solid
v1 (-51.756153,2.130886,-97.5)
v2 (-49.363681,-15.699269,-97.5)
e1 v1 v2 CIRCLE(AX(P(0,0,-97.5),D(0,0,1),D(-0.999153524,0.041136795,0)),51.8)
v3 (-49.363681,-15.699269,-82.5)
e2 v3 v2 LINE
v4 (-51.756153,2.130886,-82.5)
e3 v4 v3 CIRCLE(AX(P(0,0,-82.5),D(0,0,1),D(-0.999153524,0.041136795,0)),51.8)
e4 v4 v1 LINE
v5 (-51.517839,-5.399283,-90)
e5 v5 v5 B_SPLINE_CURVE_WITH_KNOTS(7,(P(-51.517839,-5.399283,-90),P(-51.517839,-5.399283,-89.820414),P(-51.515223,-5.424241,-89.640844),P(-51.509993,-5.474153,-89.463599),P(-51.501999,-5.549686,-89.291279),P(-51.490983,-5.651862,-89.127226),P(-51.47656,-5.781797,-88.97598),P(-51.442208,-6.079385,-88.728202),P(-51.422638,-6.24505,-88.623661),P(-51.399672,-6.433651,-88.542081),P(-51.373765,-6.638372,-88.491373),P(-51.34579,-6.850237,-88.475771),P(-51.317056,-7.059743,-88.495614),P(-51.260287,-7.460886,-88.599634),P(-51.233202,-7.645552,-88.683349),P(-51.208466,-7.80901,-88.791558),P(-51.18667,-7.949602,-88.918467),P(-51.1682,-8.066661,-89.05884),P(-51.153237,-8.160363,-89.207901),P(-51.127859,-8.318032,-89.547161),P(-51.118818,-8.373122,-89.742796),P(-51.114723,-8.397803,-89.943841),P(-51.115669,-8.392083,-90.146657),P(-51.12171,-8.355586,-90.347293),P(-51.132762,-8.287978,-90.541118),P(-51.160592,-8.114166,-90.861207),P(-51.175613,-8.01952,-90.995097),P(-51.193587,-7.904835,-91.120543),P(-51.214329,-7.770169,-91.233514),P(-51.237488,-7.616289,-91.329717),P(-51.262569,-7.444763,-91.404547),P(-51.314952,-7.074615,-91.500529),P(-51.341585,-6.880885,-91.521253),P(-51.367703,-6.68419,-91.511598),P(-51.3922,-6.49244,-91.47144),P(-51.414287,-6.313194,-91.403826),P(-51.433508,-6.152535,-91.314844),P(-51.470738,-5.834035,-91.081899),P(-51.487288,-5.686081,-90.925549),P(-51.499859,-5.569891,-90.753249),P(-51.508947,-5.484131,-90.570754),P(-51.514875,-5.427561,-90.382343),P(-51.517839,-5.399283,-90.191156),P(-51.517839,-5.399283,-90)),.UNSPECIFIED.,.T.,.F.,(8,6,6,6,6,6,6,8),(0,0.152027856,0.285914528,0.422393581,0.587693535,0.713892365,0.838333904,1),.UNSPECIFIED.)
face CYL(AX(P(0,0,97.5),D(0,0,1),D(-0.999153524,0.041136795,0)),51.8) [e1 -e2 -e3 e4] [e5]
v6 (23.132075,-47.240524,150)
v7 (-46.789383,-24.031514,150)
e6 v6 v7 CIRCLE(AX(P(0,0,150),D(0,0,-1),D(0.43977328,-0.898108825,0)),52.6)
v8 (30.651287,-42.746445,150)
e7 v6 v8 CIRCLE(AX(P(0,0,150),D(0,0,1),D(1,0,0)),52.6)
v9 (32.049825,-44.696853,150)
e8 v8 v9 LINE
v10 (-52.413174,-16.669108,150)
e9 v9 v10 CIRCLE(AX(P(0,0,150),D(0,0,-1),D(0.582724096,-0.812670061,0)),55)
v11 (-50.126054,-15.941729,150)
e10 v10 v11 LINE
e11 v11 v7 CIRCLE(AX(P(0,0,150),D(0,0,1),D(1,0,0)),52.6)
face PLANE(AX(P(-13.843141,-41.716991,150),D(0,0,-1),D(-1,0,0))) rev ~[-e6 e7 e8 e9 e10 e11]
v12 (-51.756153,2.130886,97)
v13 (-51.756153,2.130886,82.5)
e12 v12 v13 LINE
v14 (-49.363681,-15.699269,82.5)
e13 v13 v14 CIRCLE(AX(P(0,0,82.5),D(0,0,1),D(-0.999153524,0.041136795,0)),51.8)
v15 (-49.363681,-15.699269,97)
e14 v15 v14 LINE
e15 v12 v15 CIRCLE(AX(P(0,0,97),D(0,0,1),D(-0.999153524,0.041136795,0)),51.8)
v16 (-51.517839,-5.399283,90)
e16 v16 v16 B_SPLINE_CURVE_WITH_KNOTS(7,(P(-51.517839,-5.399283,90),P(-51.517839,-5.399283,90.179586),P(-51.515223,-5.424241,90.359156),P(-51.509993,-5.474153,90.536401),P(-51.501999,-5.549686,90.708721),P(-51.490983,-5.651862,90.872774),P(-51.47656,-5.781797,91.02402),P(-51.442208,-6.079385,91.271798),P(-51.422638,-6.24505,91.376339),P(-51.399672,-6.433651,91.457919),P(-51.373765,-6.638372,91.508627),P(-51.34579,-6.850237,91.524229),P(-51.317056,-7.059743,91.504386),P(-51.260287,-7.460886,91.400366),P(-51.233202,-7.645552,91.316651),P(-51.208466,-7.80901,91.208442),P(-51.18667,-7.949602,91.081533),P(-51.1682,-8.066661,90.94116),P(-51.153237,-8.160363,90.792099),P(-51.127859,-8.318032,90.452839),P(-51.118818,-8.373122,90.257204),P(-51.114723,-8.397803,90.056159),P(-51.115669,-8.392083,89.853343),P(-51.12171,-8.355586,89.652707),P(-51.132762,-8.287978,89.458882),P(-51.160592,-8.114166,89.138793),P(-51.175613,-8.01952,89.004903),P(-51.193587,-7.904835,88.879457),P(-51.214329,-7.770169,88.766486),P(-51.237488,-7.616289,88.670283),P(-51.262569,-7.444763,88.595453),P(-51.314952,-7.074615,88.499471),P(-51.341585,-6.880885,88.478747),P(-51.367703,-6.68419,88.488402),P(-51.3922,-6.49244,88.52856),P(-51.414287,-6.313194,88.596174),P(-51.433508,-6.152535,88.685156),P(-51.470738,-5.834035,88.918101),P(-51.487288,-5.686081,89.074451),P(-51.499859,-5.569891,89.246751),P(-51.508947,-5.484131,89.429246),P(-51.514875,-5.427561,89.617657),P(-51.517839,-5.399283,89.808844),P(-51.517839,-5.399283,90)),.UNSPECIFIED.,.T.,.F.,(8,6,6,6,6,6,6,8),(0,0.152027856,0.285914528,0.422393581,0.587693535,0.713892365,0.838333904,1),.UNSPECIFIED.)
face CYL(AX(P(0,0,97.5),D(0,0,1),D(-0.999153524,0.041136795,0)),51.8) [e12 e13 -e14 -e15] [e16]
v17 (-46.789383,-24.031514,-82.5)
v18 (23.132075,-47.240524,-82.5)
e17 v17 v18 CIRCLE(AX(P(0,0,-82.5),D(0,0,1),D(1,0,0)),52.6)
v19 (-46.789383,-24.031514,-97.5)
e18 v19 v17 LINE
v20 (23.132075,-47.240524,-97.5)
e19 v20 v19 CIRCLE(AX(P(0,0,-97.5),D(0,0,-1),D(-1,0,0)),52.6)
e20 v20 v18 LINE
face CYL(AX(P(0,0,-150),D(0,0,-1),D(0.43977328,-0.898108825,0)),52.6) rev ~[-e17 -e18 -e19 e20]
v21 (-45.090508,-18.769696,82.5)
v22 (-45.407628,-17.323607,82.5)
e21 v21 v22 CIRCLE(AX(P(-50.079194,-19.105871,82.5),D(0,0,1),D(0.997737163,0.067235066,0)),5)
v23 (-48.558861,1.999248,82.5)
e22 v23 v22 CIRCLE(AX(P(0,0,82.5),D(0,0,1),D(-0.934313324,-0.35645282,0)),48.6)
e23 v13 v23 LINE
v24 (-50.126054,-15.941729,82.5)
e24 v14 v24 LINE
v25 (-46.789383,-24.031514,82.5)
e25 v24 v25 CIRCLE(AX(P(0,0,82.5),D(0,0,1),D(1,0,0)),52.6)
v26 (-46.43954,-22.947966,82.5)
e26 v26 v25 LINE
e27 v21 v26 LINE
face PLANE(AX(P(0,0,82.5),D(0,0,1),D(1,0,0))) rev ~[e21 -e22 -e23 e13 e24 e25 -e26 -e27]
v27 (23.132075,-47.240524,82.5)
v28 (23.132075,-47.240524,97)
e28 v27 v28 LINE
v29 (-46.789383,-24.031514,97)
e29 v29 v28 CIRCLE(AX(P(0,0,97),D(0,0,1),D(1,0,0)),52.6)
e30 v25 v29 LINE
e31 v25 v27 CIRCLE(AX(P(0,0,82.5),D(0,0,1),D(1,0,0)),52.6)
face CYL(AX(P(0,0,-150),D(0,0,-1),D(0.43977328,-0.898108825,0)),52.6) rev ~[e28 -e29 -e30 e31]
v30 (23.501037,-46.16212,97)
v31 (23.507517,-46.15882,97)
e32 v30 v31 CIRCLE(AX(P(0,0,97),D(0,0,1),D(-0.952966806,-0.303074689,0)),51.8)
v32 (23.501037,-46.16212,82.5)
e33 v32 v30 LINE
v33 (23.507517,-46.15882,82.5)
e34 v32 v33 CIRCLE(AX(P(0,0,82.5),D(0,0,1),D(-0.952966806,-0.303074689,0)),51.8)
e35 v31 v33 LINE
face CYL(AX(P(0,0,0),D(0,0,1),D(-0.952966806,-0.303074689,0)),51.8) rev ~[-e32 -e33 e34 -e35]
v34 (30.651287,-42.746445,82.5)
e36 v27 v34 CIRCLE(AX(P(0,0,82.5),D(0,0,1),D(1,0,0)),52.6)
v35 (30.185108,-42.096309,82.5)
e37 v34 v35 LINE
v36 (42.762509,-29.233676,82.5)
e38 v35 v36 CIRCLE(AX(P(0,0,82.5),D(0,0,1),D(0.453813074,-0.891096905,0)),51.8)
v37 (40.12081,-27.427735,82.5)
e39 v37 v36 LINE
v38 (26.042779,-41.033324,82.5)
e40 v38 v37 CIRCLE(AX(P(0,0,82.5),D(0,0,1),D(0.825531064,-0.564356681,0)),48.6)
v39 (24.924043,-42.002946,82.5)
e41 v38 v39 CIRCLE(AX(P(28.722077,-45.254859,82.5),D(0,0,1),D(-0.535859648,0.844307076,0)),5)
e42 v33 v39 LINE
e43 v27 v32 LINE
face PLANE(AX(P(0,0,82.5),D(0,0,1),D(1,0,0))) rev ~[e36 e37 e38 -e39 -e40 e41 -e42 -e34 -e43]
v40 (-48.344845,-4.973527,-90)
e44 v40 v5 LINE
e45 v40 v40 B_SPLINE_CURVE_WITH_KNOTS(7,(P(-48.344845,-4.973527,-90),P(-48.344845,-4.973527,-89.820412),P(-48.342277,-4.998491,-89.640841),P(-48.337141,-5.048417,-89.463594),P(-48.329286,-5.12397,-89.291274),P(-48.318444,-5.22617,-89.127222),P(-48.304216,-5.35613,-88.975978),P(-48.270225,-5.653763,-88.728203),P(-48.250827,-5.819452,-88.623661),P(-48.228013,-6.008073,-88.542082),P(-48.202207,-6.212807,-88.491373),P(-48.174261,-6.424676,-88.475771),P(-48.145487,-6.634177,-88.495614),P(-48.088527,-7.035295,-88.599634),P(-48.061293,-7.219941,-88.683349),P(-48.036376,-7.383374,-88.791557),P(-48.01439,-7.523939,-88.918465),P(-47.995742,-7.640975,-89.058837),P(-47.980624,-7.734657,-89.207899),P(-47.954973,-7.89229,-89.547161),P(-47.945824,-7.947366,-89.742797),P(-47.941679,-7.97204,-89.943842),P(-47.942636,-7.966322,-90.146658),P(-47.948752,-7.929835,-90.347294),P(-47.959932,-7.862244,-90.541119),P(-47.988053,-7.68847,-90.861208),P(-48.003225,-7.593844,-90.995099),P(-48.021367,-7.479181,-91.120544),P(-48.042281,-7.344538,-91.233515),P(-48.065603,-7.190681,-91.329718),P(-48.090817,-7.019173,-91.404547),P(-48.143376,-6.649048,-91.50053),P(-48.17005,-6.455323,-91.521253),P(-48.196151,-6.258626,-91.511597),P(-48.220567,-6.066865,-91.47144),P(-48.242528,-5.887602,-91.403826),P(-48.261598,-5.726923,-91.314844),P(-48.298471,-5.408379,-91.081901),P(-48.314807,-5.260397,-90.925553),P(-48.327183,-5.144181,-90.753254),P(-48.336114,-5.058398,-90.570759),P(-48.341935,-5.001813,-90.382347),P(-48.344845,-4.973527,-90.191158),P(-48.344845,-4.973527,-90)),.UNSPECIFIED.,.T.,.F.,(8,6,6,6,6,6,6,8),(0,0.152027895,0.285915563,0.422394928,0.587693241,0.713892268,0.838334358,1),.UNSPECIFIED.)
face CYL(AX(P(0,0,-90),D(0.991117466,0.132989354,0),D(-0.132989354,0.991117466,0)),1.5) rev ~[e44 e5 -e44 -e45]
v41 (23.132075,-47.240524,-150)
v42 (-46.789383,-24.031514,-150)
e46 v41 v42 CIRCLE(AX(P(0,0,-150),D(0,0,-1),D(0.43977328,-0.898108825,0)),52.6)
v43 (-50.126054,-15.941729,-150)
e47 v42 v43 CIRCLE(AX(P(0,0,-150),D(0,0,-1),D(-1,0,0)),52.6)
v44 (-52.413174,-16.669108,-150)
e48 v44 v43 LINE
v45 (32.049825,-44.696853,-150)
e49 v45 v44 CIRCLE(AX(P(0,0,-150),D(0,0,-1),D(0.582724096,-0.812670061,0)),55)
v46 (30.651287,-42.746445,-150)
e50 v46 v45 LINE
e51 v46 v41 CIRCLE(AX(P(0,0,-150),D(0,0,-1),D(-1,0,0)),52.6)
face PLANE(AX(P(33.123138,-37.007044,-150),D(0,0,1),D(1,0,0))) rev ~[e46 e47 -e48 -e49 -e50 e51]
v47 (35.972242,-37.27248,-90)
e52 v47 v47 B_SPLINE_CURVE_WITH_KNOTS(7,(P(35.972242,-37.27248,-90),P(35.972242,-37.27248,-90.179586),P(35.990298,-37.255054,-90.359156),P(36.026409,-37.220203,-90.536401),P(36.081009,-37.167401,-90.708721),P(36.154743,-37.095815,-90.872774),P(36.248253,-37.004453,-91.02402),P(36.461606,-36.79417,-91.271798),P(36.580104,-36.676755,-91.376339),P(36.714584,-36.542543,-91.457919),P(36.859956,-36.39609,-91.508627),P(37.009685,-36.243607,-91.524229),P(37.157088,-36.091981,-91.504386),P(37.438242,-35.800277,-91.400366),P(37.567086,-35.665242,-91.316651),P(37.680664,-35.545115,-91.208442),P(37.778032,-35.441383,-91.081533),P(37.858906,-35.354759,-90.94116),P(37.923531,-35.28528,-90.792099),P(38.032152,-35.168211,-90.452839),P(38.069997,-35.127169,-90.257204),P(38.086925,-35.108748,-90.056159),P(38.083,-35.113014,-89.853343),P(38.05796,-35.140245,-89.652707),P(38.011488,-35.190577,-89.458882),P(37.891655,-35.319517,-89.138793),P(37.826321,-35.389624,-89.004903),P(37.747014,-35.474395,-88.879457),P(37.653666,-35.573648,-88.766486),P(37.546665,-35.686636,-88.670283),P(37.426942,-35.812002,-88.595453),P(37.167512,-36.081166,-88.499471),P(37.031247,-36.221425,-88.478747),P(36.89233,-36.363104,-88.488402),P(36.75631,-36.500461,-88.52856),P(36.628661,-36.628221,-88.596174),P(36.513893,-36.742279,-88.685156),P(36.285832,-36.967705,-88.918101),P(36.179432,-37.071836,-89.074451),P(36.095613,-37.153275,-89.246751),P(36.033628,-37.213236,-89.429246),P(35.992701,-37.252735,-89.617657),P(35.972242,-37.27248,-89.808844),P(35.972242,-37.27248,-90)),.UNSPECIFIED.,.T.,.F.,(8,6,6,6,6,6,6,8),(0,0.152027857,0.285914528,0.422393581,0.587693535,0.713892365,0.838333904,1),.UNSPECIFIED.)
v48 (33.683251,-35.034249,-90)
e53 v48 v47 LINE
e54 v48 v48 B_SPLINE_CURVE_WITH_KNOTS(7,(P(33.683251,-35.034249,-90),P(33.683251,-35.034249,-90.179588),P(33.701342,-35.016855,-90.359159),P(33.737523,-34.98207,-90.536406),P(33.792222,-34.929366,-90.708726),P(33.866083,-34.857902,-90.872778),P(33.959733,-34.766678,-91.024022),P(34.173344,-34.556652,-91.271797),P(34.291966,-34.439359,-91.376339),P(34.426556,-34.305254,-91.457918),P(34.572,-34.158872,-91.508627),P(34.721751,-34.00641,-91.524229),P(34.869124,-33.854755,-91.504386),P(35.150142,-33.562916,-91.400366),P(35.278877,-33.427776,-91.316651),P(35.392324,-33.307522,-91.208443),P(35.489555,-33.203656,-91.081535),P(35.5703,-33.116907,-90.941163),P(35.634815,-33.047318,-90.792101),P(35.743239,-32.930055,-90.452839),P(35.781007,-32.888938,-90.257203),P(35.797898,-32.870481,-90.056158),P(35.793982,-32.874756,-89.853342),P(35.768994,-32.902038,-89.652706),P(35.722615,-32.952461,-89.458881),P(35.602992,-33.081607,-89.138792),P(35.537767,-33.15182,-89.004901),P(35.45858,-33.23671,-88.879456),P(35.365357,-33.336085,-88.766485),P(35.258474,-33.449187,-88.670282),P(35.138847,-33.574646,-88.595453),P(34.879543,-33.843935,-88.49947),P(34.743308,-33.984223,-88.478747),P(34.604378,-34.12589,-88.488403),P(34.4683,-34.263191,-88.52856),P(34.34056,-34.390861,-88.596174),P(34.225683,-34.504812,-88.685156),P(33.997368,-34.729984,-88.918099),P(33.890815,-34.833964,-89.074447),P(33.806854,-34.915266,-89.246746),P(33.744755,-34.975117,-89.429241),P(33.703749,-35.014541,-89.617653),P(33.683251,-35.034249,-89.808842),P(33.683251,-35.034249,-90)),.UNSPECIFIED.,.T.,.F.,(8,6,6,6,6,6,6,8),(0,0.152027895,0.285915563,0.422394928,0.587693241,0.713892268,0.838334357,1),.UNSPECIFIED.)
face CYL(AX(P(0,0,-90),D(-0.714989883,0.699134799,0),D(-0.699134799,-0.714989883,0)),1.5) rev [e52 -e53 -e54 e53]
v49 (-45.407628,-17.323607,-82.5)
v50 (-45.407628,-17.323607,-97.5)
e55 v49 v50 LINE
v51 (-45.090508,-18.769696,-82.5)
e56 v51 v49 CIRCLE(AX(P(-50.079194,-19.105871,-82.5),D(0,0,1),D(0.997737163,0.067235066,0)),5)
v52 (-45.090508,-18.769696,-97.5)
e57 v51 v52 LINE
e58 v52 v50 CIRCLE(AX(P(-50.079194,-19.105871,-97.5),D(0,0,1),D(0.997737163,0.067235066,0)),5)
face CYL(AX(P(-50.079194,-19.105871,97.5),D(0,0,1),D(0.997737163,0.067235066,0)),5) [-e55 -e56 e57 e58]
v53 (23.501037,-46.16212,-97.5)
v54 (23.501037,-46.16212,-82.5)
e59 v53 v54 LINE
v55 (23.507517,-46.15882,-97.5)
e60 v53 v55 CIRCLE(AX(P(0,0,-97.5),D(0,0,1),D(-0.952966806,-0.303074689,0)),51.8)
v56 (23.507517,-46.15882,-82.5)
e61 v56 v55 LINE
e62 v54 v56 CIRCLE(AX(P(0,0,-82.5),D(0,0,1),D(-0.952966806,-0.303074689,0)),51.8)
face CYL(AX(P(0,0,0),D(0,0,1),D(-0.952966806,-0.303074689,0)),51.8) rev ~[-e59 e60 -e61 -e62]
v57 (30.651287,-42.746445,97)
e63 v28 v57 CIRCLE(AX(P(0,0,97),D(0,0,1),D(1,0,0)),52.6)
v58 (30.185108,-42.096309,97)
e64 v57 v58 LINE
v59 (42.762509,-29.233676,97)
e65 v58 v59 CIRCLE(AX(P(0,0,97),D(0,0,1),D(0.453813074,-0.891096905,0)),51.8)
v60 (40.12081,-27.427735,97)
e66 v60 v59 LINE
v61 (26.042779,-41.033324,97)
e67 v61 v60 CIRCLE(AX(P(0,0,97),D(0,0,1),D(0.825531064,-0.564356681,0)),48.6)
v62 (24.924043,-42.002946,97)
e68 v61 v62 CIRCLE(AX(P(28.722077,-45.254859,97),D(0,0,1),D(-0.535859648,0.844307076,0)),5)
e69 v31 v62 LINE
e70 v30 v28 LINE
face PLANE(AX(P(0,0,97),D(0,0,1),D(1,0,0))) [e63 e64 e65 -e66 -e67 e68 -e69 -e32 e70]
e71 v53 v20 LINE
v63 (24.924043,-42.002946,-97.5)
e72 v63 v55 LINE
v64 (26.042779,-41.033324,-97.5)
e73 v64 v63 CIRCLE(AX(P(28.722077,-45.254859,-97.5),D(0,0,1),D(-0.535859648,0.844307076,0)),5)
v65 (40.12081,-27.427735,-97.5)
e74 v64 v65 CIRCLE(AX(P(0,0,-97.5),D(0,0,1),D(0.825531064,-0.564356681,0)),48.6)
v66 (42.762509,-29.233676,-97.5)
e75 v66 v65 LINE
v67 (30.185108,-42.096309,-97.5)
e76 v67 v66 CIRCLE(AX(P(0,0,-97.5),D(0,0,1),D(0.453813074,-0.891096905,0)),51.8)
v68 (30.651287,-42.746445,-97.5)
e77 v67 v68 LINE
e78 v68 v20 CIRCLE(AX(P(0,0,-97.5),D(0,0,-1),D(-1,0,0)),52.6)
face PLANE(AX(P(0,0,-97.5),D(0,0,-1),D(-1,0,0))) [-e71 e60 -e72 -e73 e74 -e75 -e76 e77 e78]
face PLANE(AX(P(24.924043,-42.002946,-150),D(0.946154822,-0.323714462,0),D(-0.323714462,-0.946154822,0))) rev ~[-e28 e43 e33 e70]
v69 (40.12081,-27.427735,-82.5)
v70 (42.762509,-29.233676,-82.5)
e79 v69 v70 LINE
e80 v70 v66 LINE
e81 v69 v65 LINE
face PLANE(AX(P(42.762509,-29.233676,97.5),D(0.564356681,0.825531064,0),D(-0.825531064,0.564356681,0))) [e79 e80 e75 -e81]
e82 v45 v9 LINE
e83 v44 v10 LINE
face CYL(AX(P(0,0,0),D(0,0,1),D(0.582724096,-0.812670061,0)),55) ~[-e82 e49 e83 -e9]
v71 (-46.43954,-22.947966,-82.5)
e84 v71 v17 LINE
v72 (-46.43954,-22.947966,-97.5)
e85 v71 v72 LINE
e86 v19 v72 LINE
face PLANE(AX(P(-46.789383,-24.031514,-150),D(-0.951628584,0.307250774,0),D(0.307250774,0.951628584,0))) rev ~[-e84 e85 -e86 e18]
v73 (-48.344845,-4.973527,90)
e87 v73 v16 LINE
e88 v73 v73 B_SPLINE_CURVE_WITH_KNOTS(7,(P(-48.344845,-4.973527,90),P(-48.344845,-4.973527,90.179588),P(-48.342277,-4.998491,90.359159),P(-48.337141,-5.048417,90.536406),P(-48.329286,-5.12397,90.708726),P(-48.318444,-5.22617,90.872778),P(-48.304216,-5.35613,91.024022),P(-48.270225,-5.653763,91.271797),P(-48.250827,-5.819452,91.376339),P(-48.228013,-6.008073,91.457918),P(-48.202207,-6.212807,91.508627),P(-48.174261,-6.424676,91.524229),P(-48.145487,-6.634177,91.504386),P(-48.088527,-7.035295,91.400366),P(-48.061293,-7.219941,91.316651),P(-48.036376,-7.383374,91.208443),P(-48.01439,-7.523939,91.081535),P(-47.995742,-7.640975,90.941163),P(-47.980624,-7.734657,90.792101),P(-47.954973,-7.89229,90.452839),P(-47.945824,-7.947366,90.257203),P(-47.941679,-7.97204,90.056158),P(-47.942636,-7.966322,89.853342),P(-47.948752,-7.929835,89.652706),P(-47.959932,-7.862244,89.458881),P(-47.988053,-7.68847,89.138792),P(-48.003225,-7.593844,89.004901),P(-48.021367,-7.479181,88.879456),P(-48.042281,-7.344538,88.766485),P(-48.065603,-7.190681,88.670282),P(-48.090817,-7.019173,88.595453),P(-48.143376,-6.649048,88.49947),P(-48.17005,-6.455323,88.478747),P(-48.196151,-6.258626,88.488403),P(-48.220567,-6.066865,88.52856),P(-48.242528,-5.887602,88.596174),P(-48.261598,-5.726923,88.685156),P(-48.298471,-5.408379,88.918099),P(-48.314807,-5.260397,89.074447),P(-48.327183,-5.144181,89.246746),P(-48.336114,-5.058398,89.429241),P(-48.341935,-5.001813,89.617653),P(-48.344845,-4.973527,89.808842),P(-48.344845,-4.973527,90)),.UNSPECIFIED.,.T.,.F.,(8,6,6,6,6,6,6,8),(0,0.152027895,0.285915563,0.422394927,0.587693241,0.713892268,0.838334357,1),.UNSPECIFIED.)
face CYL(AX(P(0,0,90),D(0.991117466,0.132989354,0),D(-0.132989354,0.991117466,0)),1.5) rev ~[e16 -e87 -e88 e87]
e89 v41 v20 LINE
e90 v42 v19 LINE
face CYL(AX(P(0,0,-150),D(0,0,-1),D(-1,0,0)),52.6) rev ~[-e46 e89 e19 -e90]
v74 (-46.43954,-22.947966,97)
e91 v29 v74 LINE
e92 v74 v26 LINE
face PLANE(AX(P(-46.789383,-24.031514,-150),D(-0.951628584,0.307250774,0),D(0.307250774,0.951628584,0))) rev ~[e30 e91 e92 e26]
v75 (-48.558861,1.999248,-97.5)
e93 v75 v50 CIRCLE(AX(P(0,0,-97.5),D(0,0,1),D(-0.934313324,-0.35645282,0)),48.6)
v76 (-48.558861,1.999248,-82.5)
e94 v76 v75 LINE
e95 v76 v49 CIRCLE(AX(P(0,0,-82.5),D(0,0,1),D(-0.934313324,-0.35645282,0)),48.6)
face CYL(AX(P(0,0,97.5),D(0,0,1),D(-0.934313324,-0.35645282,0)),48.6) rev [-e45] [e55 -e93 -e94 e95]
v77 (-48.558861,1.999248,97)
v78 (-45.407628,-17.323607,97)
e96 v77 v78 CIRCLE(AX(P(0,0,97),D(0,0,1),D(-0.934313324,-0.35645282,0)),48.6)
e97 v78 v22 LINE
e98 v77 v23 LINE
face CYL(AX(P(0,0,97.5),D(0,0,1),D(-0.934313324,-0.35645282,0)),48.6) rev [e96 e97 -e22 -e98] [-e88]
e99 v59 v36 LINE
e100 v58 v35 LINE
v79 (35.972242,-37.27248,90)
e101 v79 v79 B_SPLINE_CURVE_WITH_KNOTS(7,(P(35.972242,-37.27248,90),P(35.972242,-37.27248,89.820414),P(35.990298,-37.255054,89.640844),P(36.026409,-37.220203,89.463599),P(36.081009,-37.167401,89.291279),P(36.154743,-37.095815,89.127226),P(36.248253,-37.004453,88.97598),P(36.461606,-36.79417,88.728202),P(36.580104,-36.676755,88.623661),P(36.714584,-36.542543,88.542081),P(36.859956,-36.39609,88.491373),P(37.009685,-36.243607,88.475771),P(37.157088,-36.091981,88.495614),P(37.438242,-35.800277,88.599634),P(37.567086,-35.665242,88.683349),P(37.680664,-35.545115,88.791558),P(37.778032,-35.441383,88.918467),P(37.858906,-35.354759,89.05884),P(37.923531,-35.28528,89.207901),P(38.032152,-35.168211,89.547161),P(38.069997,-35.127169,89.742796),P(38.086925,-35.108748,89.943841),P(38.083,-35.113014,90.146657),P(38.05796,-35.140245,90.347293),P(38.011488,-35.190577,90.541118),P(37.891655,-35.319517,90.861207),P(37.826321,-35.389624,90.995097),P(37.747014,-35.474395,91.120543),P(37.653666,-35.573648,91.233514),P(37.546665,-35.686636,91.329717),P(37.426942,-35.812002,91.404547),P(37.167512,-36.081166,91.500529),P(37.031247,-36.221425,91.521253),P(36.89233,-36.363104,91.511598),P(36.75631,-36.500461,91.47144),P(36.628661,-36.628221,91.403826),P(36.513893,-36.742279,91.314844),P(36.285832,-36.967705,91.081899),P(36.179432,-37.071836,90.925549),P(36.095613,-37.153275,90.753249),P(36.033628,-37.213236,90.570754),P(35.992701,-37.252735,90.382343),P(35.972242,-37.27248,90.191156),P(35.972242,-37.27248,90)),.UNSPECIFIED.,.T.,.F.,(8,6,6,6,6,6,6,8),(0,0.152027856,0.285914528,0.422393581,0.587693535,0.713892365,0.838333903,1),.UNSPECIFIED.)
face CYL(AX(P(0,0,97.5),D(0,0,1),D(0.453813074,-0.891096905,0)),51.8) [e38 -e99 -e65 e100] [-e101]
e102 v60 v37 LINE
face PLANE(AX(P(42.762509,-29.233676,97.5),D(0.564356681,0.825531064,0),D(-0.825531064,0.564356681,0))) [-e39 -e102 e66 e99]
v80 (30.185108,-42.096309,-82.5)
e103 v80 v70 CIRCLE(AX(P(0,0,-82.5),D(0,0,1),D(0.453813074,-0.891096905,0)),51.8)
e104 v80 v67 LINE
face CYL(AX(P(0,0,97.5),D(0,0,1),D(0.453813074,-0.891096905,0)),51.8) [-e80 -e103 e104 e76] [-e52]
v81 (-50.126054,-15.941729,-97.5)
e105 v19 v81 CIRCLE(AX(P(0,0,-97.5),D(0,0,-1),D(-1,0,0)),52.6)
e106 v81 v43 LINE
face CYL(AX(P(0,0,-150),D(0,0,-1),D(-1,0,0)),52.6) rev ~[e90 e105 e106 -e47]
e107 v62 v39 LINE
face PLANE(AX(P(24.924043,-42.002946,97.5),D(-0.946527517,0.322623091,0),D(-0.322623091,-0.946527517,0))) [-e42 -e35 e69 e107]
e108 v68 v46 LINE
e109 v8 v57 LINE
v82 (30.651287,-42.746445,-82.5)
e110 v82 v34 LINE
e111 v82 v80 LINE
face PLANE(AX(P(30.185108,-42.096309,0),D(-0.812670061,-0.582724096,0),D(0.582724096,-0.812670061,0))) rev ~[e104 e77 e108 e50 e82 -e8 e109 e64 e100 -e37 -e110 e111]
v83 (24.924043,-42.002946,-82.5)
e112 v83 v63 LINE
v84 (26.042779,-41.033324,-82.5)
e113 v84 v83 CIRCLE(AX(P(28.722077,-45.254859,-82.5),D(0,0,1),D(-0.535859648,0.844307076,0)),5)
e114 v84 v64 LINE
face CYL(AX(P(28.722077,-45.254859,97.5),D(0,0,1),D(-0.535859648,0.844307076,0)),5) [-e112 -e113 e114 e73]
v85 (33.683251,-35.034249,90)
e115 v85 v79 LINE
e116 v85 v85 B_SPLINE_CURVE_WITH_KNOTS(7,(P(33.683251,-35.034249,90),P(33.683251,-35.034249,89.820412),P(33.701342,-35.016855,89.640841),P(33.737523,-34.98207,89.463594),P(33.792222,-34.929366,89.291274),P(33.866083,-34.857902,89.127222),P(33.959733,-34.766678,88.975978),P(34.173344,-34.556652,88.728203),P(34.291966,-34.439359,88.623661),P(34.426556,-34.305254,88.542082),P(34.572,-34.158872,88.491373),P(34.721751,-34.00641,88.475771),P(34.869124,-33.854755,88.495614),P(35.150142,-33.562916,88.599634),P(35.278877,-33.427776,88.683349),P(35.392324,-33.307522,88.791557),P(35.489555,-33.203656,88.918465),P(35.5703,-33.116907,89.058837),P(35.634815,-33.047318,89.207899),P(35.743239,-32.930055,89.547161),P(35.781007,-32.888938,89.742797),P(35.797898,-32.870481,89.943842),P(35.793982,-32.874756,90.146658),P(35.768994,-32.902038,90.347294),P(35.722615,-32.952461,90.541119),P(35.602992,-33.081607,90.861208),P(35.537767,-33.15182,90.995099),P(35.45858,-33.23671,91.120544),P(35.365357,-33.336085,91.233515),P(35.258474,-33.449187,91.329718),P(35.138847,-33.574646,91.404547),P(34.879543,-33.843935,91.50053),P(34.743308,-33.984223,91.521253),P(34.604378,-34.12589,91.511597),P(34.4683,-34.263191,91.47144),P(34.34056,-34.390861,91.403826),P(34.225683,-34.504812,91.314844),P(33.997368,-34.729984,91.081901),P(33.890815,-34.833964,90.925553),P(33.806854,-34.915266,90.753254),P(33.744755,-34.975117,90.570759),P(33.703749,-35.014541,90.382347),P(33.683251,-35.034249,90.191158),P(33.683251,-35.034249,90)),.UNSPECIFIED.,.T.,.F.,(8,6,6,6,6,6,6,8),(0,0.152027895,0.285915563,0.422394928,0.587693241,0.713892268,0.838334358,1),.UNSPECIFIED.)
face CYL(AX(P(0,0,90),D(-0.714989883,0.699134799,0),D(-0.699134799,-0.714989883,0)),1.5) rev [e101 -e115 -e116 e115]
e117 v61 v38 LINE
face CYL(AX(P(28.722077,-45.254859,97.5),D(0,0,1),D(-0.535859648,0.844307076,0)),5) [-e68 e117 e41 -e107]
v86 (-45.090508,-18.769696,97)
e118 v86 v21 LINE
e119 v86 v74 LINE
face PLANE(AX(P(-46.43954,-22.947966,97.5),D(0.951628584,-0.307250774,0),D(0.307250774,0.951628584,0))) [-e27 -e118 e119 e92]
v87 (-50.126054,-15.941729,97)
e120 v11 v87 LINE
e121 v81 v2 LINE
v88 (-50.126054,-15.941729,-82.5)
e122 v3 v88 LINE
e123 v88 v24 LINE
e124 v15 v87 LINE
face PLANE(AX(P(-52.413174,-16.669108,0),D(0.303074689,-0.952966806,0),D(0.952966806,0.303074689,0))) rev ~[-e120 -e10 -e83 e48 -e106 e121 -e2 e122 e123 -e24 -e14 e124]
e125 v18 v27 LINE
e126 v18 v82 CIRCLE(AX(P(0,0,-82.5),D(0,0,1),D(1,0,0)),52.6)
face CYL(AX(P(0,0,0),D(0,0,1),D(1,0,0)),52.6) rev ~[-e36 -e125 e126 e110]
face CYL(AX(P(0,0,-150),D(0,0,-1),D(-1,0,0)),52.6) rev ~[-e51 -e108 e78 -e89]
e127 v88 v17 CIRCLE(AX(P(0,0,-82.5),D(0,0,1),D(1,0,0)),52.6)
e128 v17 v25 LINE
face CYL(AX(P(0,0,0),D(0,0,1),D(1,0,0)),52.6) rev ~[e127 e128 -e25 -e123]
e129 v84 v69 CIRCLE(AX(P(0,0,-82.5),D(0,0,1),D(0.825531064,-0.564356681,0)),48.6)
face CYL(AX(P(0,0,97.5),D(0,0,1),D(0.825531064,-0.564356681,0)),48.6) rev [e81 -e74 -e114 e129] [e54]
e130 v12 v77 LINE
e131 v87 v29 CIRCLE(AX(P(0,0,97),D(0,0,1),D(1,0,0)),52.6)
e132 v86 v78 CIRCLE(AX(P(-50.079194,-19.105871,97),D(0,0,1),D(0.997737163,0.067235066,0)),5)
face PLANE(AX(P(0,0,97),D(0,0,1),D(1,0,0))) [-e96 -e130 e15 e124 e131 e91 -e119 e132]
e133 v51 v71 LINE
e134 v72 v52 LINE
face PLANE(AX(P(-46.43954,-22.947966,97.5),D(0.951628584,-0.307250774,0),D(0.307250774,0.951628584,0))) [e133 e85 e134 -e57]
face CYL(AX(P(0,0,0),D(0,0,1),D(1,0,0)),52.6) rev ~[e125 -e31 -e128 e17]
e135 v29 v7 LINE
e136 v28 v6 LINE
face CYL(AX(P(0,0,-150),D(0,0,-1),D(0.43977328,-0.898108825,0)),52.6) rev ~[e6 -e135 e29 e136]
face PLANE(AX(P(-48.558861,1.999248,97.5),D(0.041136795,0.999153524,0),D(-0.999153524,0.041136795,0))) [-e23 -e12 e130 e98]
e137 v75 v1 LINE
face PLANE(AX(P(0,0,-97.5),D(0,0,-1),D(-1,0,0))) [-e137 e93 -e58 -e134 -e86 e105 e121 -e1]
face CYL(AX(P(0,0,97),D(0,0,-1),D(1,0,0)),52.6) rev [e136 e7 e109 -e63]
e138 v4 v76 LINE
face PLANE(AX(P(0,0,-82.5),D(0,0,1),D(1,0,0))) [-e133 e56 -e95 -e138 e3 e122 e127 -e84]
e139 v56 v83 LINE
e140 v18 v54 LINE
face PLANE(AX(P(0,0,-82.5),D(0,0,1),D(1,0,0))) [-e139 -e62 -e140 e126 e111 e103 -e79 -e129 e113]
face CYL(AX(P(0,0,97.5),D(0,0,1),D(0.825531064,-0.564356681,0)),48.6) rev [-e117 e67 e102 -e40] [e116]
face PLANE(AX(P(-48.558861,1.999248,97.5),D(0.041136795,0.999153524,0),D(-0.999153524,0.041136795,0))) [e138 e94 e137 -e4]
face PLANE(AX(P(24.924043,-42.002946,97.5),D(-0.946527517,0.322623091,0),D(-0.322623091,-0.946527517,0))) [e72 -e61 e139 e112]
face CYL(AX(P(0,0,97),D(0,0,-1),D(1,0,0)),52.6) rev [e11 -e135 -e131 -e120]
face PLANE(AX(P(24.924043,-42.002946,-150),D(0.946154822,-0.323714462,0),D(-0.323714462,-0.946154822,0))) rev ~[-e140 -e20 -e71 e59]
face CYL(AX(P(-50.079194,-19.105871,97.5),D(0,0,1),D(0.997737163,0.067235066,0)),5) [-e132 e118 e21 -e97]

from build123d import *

# Parameters (mm, degrees)
EXTRUDE_1_DEPTH     = 150
EXTRUDE_START       = -247.5
EXTRUDE_2_DEPTH     = 247.5
SKETCH_3_R          = 52.6
CUT_EXTRUDE_1_DEPTH = 52.5
SKETCH_4_R          = 52.6
CUT_EXTRUDE_2_DEPTH = 82.5
SKETCH_6_R          = 1.5
CUT_EXTRUDE_3_DEPTH = 165
SKETCH_7_R          = 1.5
CUT_EXTRUDE_4_DEPTH = 165
CUT_EXTRUDE_5_DEPTH = 500
CUT_EXTRUDE_START   = -53
SKETCH_9_R          = 52.6
CUT_EXTRUDE_6_DEPTH = 53


with BuildPart() as part:
    # 草图1 → 凸台-拉伸1 (new, symmetric)
    with BuildSketch(Plane.XY):
        with BuildLine():
            Line((-52.413174316, -16.669107897), (-49.363680538, -15.699268892))
            ThreePointArc((-49.363680538, -15.699268892), (-16.314268086, -49.163855187), (30.185108172, -42.096309157))
            Line((30.185108172, -42.096309157), (32.049825279, -44.696853352))
            ThreePointArc((32.049825279, -44.696853352), (-17.322099319, -52.201004542), (-52.413174316, -16.669107897))
        make_face()
    extrude(amount=EXTRUDE_1_DEPTH, both=True)

    # 草图2 → 凸台-拉伸2 (add)
    with BuildSketch(Plane(origin=(0, 0, -150), x_dir=(-1, 0, 0), z_dir=(0, 0, -1)).offset(EXTRUDE_START)):
        with BuildLine():
            Line((-24.924043095, -42.002946324), (-23.507517235, -46.158819671))
            ThreePointArc((-23.507517235, -46.158819671), (-34.198599667, -38.906243468), (-42.762509098, -29.233676054))
            Line((-42.762509098, -29.233676054), (-40.120809695, -27.427734676))
            ThreePointArc((-40.120809695, -27.427734676), (-33.774000748, -34.946772003), (-26.042778843, -41.033323898))
            ThreePointArc((-26.042778843, -41.033323898), (-25.447325167, -41.476499857), (-24.924043095, -42.002946324))
        make_face()
        with BuildLine():
            Line((48.558861257, 1.99924822), (51.756152533, 2.130885963))
            ThreePointArc((51.756152533, 2.130885963), (50.673816706, -10.742639362), (46.439539695, -22.947966205))
            Line((46.439539695, -22.947966205), (45.090508335, -18.769695848))
            ThreePointArc((45.090508335, -18.769695848), (45.195249795, -18.034849445), (45.40762753, -17.323607076))
            ThreePointArc((45.40762753, -17.323607076), (47.966326083, -7.822503569), (48.558861257, 1.99924822))
        make_face()
    extrude(amount=EXTRUDE_2_DEPTH)

    # 草图3 → 切除-拉伸1 (cut)
    with BuildSketch(Plane(origin=(0, 0, -150), x_dir=(-1, 0, 0), z_dir=(0, 0, -1))):
        Circle(SKETCH_3_R)
    extrude(amount=-CUT_EXTRUDE_1_DEPTH, mode=Mode.SUBTRACT)

    # 草图4 → 切除-拉伸2 (cut, symmetric)
    with BuildSketch(Plane.XY):
        Circle(SKETCH_4_R)
    extrude(amount=CUT_EXTRUDE_2_DEPTH, both=True, mode=Mode.SUBTRACT)

    # 草图6 → 切除-拉伸3 (cut)
    with BuildSketch(Plane(origin=(0, 0, 0), x_dir=(-0.6991347993064156, -0.7149898827247683, 0), z_dir=(0.7149898827247683, -0.6991347993064156, 0))):
        with Locations((0, 90)):
            Circle(SKETCH_6_R)
        with Locations((0, -90)):
            Circle(SKETCH_6_R)
    extrude(amount=CUT_EXTRUDE_3_DEPTH, mode=Mode.SUBTRACT)

    # 草图7 → 切除-拉伸4 (cut)
    with BuildSketch(Plane(origin=(0, 0, 0), x_dir=(0.13298935431462466, -0.991117466115384, 0), z_dir=(0.991117466115384, 0.13298935431462466, 0))):
        with Locations(Location((0, 90, 0), (0, 0, 180))):
            Circle(SKETCH_7_R)
        with Locations(Location((0, -90, 0), (0, 0, 180))):
            Circle(SKETCH_7_R)
    extrude(amount=-CUT_EXTRUDE_4_DEPTH, mode=Mode.SUBTRACT)

    # 草图8 → 切除-拉伸5 (cut)
    with BuildSketch(Plane(origin=(0, 0, -150), x_dir=(-1, 0, 0), z_dir=(0, 0, -1))):
        with BuildLine():
            Line((-24.924043095, -42.002946324), (-23.132074518, -47.240524219))
            ThreePointArc((-23.132074518, -47.240524219), (16.570504001, -49.921722698), (46.789382897, -24.031513647))
            Line((46.789382897, -24.031513647), (45.090508335, -18.769695848))
            Line((45.090508335, -18.769695848), (-24.924043095, -42.002946324))
        make_face()
    extrude(amount=-CUT_EXTRUDE_5_DEPTH, mode=Mode.SUBTRACT)

    # 草图9 → 切除-拉伸6 (cut)
    with BuildSketch(Plane.XY.offset(150).offset(CUT_EXTRUDE_START)):
        Circle(SKETCH_9_R)
    extrude(amount=CUT_EXTRUDE_6_DEPTH, mode=Mode.SUBTRACT)


solid = part.part
